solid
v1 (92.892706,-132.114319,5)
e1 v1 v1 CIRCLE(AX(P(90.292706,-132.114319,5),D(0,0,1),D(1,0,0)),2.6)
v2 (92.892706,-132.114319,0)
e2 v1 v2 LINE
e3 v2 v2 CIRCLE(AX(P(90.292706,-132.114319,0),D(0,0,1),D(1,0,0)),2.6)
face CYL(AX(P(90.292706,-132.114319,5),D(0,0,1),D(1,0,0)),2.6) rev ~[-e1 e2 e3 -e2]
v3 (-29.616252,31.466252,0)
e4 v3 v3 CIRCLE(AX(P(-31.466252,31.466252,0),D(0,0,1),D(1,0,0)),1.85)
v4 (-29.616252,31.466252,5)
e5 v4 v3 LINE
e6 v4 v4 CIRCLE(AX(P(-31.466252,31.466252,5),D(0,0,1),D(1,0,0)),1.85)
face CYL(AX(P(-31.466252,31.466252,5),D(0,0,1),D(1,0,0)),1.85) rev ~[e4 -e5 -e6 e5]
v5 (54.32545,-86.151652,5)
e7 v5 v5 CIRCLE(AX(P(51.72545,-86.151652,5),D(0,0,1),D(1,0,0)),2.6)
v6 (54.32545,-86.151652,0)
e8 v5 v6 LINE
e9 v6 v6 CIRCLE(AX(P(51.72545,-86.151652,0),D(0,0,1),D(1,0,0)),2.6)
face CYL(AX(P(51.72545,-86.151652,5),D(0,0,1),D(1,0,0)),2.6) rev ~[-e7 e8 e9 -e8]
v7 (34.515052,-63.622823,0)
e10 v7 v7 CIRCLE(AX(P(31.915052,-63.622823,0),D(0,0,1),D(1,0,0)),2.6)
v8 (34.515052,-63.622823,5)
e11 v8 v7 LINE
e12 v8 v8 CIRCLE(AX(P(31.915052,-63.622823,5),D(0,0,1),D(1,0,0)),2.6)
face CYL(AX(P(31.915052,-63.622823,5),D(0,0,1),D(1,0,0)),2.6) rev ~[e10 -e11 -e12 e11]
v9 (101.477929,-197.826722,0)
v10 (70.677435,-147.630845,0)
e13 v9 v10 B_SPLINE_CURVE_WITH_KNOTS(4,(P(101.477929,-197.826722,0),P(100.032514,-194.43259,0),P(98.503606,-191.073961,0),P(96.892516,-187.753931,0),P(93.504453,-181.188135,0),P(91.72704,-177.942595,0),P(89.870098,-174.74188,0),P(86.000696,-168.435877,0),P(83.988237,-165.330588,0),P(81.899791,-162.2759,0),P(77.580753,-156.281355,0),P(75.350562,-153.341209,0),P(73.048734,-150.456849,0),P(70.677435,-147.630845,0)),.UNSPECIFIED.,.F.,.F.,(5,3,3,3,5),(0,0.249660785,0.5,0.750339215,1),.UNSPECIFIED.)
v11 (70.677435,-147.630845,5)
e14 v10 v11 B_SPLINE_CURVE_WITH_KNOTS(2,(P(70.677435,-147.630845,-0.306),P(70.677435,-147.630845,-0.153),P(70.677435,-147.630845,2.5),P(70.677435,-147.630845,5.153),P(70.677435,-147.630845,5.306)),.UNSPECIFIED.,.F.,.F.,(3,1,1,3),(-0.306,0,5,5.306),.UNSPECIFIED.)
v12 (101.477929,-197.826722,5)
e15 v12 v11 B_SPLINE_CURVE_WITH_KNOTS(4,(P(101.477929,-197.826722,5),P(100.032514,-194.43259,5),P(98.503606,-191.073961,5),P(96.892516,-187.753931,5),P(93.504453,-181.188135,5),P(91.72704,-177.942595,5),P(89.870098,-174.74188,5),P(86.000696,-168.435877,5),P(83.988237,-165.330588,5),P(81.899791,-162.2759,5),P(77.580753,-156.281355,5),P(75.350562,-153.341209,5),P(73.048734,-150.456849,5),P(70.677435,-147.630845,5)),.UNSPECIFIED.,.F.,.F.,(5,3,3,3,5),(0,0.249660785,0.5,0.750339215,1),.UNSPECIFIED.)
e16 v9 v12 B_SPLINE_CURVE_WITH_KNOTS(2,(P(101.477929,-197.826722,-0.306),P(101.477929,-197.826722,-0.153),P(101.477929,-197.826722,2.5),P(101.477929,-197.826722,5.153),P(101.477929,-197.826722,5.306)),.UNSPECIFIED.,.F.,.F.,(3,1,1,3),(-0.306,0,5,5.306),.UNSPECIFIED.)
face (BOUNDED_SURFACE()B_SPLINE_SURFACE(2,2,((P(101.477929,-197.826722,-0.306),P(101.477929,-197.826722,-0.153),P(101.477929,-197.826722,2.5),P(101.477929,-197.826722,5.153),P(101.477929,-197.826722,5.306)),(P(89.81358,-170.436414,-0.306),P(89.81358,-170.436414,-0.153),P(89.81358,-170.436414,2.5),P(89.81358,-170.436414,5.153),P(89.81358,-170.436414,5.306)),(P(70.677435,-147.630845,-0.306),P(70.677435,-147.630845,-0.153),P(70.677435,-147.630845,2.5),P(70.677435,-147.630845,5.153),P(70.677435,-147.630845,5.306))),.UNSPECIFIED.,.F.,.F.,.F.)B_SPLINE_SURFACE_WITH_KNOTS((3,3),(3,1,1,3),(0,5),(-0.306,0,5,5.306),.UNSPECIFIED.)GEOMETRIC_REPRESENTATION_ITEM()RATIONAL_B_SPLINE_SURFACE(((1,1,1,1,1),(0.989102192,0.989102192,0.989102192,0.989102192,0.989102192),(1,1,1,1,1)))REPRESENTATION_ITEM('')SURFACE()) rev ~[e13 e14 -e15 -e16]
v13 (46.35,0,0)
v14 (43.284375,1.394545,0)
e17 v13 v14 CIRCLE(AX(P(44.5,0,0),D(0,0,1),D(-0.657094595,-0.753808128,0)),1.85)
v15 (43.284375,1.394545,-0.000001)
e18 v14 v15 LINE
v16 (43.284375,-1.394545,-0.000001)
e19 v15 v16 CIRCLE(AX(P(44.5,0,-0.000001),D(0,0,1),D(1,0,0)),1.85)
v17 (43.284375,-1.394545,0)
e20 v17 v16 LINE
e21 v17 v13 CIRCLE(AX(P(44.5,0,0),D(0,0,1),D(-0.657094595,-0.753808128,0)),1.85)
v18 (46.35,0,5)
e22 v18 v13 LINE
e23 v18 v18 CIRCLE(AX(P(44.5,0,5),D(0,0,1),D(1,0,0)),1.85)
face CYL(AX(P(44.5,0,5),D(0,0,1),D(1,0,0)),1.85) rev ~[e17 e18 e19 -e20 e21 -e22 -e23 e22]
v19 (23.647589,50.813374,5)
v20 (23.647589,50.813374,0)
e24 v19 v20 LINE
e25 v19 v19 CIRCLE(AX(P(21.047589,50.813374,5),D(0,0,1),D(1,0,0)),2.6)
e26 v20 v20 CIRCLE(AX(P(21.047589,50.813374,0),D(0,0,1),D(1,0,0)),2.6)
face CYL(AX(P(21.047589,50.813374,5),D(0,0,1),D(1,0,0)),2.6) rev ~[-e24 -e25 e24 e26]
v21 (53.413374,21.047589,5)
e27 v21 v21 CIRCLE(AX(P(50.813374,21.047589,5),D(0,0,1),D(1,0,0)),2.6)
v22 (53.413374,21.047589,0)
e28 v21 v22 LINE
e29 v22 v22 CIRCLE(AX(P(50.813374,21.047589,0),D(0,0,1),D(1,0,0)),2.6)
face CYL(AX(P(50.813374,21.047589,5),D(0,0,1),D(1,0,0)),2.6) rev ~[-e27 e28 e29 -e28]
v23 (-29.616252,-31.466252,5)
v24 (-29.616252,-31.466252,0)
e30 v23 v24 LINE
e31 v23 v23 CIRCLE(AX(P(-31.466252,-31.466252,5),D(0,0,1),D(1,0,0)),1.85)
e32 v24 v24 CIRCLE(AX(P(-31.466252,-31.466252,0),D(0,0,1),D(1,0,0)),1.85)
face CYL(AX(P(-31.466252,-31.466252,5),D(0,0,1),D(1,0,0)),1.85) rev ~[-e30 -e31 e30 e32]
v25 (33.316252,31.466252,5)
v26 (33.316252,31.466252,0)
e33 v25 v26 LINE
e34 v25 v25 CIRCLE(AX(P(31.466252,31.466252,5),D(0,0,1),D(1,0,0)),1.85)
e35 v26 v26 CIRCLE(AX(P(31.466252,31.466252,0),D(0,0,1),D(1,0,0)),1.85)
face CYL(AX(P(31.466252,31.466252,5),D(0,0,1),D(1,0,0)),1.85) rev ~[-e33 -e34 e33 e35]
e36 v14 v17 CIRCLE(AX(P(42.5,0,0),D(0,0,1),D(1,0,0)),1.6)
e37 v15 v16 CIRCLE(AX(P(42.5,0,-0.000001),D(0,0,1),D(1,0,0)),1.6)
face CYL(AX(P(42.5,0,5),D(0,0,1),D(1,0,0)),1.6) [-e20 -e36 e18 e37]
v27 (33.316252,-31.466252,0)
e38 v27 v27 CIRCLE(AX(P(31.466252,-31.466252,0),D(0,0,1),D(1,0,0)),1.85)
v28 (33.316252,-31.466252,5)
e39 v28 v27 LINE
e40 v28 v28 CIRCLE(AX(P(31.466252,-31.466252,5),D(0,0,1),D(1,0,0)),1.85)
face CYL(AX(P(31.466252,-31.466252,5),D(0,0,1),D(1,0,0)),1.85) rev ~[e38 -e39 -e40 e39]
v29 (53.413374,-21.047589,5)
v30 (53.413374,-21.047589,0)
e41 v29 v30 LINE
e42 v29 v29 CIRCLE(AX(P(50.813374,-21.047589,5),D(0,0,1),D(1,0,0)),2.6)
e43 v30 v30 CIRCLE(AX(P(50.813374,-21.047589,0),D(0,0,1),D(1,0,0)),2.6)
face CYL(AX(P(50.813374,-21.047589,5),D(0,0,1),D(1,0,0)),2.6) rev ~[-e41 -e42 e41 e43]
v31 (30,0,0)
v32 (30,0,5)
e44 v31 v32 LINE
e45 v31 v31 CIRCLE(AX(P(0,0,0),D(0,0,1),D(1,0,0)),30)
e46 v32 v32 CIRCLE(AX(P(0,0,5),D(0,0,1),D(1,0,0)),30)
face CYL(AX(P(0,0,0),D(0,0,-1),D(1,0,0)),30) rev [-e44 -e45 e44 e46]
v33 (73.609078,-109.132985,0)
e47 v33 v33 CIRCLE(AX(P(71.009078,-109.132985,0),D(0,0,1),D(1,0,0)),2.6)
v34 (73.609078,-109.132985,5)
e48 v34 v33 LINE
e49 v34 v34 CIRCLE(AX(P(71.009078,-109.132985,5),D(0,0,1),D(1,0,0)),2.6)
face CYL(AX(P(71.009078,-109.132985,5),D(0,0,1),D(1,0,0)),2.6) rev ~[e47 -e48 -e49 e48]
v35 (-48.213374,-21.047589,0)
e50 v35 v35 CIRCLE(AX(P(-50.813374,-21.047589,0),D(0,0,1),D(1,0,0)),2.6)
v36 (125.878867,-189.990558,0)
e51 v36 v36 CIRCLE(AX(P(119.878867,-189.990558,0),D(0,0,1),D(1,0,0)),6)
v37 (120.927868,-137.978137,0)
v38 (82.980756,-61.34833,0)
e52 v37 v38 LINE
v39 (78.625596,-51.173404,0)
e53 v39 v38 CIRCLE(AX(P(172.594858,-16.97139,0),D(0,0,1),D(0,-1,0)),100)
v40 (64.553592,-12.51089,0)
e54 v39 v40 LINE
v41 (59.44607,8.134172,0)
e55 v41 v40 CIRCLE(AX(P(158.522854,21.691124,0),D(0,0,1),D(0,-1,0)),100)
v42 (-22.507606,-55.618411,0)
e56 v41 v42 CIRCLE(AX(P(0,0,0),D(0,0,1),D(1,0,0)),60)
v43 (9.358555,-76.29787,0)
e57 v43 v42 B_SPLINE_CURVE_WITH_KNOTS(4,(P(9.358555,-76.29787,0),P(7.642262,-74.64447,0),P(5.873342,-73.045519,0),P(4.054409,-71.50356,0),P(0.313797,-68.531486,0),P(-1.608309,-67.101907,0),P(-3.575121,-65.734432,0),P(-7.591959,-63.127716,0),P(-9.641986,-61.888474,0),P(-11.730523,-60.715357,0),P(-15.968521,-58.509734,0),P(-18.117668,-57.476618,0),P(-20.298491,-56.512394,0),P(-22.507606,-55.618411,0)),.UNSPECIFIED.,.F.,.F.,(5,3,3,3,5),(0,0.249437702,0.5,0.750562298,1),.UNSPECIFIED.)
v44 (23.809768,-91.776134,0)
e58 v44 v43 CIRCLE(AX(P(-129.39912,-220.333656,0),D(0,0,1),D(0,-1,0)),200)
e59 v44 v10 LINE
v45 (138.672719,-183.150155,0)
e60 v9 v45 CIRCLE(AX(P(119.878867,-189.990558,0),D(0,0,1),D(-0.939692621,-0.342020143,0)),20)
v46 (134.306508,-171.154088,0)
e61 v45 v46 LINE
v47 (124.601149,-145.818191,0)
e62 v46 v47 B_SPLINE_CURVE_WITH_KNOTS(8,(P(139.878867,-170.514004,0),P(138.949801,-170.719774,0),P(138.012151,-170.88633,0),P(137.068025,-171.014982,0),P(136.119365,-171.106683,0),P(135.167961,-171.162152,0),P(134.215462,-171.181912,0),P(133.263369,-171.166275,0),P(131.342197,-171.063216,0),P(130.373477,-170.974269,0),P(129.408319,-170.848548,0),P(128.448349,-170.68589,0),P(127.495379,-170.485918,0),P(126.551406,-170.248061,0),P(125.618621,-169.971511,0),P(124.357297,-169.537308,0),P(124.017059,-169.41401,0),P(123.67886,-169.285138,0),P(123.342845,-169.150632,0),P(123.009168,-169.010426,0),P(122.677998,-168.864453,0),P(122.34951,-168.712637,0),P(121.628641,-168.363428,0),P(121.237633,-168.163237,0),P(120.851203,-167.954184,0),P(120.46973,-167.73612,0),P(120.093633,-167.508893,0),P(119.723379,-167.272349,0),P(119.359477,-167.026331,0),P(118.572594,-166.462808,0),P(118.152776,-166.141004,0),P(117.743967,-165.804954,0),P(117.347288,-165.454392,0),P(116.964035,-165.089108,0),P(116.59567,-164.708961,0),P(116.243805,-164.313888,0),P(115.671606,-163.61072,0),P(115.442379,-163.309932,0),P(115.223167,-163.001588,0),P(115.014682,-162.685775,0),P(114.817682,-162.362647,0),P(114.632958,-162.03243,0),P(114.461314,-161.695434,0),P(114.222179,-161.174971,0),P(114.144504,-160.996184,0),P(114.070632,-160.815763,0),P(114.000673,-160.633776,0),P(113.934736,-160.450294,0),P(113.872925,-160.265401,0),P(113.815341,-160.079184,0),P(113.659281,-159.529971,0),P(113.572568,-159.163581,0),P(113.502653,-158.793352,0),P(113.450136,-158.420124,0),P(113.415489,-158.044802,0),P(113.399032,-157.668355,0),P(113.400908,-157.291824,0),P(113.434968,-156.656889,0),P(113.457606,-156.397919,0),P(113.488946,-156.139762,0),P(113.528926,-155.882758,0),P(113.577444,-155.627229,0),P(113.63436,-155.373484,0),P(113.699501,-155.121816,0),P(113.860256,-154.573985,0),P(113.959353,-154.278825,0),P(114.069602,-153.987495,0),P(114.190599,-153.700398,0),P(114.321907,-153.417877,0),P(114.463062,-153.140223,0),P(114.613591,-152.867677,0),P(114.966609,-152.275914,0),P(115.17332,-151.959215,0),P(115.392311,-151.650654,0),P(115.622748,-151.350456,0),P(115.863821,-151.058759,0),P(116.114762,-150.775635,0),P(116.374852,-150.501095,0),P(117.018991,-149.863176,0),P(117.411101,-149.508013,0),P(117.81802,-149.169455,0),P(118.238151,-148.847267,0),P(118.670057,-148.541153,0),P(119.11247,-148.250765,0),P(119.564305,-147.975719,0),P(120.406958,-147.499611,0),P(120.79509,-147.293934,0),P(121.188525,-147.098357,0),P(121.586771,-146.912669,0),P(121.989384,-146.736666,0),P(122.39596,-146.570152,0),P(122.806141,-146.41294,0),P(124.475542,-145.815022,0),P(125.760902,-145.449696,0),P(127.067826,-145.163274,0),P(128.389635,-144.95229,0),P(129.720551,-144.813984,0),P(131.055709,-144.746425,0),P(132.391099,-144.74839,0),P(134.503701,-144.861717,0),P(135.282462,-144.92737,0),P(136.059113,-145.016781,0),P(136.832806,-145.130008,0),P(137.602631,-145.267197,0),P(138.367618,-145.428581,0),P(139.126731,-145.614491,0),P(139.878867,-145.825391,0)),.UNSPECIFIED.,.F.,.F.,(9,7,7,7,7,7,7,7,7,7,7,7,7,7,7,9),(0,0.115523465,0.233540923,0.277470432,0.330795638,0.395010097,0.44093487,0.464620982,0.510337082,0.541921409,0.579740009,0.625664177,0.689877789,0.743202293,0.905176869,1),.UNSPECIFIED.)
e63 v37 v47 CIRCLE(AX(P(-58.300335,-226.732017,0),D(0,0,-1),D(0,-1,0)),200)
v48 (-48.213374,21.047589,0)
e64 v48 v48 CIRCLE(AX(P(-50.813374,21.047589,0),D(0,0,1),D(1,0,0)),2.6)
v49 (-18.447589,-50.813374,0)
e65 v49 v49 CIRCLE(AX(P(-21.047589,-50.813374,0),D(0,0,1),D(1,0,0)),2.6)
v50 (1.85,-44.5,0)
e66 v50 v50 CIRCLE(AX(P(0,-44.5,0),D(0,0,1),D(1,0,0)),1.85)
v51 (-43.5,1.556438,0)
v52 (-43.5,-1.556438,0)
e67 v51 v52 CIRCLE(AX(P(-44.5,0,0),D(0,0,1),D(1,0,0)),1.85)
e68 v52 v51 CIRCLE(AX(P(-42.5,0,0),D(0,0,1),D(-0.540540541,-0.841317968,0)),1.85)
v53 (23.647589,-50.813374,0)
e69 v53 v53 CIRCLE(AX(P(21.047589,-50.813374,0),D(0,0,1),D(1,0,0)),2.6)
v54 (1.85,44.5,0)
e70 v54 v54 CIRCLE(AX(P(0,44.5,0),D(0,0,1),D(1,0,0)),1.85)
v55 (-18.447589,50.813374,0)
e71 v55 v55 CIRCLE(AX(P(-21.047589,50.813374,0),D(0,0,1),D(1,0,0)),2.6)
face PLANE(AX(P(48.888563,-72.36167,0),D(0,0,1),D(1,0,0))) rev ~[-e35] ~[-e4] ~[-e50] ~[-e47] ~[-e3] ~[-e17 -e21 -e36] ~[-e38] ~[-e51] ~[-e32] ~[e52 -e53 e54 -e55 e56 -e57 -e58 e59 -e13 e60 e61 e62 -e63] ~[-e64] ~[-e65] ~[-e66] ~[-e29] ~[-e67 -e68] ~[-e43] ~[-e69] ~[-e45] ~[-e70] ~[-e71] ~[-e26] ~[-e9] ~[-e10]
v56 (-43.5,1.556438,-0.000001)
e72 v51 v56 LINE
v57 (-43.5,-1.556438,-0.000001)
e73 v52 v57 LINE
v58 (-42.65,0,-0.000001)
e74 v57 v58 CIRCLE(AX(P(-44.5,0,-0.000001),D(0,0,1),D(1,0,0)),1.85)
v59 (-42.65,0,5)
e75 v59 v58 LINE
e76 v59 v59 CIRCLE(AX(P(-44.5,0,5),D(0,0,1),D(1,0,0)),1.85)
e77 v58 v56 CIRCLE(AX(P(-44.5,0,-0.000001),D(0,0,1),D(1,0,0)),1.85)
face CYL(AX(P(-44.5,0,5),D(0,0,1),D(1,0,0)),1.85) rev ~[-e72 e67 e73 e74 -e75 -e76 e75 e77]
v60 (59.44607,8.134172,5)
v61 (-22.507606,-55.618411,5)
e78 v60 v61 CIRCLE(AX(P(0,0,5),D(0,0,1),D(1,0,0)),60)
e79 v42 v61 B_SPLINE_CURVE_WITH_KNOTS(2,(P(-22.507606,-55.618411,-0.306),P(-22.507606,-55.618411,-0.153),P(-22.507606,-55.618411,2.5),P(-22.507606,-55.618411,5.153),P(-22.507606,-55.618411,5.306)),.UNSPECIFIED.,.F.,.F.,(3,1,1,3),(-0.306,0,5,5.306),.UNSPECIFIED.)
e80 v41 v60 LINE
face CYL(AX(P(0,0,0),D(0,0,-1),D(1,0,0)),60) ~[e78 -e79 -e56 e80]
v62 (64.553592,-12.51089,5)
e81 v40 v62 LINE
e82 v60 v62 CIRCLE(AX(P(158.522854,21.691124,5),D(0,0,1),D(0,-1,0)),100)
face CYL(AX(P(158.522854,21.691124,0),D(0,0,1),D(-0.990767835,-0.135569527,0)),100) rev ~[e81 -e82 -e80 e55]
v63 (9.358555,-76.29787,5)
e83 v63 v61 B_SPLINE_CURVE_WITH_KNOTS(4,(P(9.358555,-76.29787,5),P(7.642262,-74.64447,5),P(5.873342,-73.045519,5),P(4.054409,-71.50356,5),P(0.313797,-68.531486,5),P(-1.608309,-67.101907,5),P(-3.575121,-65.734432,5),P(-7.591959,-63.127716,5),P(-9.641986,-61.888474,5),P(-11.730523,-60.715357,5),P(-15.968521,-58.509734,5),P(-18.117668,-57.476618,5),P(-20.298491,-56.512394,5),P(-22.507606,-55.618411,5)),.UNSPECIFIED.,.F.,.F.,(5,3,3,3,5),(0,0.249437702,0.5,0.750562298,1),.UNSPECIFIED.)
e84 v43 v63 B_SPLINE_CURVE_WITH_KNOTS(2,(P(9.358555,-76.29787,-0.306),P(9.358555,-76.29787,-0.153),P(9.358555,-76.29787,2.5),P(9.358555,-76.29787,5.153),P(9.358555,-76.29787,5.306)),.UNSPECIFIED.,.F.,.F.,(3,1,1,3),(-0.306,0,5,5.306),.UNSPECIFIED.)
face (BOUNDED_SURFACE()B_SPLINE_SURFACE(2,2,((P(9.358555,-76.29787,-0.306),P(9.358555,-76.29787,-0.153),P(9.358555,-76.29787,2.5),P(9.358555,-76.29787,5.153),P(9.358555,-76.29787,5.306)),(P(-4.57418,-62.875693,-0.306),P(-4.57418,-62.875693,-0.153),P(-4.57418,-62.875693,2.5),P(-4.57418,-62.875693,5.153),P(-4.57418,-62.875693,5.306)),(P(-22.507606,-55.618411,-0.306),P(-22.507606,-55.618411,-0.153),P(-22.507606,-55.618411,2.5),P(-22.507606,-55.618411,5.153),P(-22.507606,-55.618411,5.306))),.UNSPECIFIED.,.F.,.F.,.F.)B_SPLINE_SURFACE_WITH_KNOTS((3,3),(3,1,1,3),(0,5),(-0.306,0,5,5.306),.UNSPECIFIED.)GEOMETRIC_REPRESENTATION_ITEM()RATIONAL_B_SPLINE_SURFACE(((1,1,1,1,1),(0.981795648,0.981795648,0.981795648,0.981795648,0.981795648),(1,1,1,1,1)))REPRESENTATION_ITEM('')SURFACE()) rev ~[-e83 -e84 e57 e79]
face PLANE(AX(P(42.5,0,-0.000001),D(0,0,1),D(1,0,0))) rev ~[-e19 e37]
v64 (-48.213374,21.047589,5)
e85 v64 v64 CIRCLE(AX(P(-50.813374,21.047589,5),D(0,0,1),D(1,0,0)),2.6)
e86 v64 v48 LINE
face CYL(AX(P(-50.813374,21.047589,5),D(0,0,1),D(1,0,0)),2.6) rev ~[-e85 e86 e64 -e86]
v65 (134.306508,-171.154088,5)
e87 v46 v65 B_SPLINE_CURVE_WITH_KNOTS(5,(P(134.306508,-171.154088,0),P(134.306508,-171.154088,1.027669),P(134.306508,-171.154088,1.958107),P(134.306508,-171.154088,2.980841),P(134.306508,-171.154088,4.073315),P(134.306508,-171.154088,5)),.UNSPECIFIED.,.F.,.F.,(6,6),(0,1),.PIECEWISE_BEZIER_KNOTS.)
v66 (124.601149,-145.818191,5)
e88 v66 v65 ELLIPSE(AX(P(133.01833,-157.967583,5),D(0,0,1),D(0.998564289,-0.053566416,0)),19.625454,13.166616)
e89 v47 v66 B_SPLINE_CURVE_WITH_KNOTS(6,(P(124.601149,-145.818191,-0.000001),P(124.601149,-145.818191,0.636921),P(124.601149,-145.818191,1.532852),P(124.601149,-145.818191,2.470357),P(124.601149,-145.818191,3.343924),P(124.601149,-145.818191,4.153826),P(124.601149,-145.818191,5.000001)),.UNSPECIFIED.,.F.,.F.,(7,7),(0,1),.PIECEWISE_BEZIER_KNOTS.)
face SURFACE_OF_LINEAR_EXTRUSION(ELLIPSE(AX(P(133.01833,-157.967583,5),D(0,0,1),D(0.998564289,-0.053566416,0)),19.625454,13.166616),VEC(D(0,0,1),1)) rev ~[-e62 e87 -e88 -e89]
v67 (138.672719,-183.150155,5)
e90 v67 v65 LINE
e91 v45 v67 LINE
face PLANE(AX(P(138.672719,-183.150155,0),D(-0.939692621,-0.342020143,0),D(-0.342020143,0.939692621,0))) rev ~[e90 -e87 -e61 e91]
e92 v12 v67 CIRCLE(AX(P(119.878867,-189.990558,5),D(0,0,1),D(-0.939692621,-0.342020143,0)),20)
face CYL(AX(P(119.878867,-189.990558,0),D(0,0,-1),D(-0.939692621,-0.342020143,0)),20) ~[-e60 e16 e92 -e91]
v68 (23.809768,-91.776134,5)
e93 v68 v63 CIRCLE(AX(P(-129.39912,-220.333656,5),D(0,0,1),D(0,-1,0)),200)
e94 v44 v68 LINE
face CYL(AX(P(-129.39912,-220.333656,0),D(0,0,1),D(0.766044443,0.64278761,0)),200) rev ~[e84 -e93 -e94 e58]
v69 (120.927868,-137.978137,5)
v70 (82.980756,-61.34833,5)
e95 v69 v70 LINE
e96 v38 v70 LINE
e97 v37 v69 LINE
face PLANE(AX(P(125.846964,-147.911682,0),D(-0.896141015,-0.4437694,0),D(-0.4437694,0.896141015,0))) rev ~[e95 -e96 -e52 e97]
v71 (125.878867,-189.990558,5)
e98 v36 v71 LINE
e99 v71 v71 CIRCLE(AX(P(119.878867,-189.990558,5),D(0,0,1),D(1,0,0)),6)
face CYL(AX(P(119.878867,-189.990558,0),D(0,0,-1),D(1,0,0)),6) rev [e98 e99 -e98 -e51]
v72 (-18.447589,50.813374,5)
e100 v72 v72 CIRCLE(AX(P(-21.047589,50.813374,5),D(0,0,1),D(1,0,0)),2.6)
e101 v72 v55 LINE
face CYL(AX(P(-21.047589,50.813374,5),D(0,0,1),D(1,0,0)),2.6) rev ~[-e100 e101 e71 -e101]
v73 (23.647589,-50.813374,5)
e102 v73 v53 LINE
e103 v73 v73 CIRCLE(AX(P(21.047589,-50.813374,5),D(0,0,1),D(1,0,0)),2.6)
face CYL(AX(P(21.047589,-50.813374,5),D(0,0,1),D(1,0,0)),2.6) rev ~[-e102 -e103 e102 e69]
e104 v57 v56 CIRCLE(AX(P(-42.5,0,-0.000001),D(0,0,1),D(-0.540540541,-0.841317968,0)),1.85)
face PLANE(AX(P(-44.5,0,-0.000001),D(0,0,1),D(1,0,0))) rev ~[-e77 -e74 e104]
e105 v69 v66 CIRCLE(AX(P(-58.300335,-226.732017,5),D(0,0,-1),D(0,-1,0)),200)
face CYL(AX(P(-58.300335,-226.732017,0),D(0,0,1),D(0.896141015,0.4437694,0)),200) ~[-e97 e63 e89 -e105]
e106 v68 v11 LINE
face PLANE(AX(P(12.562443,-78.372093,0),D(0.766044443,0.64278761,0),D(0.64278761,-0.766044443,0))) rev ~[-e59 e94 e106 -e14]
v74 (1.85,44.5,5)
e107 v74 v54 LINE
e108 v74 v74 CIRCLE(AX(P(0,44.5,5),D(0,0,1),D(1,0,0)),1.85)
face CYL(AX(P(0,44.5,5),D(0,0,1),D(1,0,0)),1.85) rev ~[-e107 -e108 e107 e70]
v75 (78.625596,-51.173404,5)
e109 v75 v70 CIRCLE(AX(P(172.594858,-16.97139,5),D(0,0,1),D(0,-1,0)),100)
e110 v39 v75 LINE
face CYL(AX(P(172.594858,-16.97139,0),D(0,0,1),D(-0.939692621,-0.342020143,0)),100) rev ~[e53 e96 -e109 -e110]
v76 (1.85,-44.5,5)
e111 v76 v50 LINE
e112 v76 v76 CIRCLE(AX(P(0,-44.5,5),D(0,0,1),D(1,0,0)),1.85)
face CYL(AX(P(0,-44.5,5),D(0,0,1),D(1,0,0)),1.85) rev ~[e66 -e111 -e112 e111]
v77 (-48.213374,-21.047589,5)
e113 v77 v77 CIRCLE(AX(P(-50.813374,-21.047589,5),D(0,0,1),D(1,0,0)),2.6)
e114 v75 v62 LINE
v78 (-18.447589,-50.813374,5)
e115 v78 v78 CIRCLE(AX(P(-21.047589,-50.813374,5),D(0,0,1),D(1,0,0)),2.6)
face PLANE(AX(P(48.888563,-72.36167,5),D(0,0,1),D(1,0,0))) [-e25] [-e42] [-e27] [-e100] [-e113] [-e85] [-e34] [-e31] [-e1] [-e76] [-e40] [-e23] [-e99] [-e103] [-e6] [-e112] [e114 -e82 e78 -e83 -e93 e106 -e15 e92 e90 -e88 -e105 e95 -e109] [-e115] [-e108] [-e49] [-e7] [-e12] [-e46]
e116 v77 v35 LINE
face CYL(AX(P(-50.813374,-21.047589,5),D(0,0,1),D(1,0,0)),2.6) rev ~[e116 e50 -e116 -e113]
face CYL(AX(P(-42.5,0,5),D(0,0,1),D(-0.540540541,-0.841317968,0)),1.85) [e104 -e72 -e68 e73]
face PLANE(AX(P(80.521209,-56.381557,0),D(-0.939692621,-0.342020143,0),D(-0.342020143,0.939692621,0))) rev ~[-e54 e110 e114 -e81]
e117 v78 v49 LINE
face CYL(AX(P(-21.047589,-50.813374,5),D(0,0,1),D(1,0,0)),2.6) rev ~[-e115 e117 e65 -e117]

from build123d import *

# Parameters (mm, degrees)
SKETCH_1_R          = 30
SKETCH_1_R_2        = 6
EXTRUDE_1_DEPTH     = 5
SKETCH_2_R          = 1.85
SKETCH_2_R_2        = 1.6
CUT_EXTRUDE_1_DEPTH = 10
SKETCH_3_R          = 2.6
CUT_EXTRUDE_2_DEPTH = 10
FILLET_1_R          = 200
FILLET_2_R          = 200
FILLET_3_R          = 200
FILLET_5_R          = 100
SKETCH_4_R          = 2.6
CUT_EXTRUDE_3_DEPTH = 10
SKETCH_5_RX         = 19.625454407
SKETCH_5_RY         = 13.166615993
CUT_EXTRUDE_4_DEPTH = 10
SKETCH_6_R          = 1.85
SKETCH_6_R_2        = 1.6
EXTRUDE_2_DEPTH     = 5.000001
SKETCH_7_R          = 1.85
CUT_EXTRUDE_5_DEPTH = 10


with BuildPart() as part:
    # 草图1 → 凸台-拉伸1 (new body)
    with BuildSketch(Plane.XY):
        with BuildLine():
            Line((-10.41889066, -59.088465181), (12.562442634, -78.372093471))
            Line((12.562442634, -78.372093471), (92.753346633, -173.939891406))
            Line((92.753346633, -173.939891406), (101.085014518, -196.830960785))
            ThreePointArc((101.085014518, -196.830960785), (126.7192698, -208.784410334), (138.672719349, -183.150155052))
            Line((138.672719349, -183.150155052), (125.846963974, -147.911681773))
            Line((125.846963974, -147.911681773), (80.5212086, -56.381557247))
            Line((80.5212086, -56.381557247), (60, 0))
            ThreePointArc((60, 0), (-38.567256581, 45.962666587), (-10.41889066, -59.088465181))
        make_face()
        Circle(SKETCH_1_R, mode=Mode.SUBTRACT)
        with Locations((119.878866933, -189.990557919)):
            Circle(SKETCH_1_R_2, mode=Mode.SUBTRACT)
    extrude(amount=EXTRUDE_1_DEPTH)

    # 草图2 → 切除-拉伸1 (cut)
    with BuildSketch(Plane.XY.offset(5)):
        with Locations((0, 44.5)):
            Circle(SKETCH_2_R)
        with Locations((31.466251763, 31.466251763)):
            Circle(SKETCH_2_R)
        with Locations((31.466251763, -31.466251763)):
            Circle(SKETCH_2_R)
        with Locations((0, -44.5)):
            Circle(SKETCH_2_R)
        with Locations((-31.466251763, -31.466251763)):
            Circle(SKETCH_2_R)
        with Locations((-31.466251763, 31.466251763)):
            Circle(SKETCH_2_R)
        with Locations((42.5, 0)):
            Circle(SKETCH_2_R_2)
        with Locations((-42.5, 0)):
            Circle(SKETCH_2_R)
    extrude(amount=-CUT_EXTRUDE_1_DEPTH, mode=Mode.SUBTRACT)

    # 草图3 → 切除-拉伸2 (cut)
    with BuildSketch(Plane.XY.offset(5)):
        with Locations((21.04758878, 50.813374288)):
            Circle(SKETCH_3_R)
        with Locations((50.813374288, 21.04758878)):
            Circle(SKETCH_3_R)
        with Locations((50.813374288, -21.04758878)):
            Circle(SKETCH_3_R)
        with Locations((21.04758878, -50.813374288)):
            Circle(SKETCH_3_R)
        with Locations((-21.04758878, -50.813374288)):
            Circle(SKETCH_3_R)
        with Locations((-50.813374288, -21.04758878)):
            Circle(SKETCH_3_R)
        with Locations((-50.813374288, 21.04758878)):
            Circle(SKETCH_3_R)
        with Locations((-21.04758878, 50.813374288)):
            Circle(SKETCH_3_R)
    extrude(amount=-CUT_EXTRUDE_2_DEPTH, mode=Mode.SUBTRACT)

    # 圆角1
    fillet_1_edges = [part.edges().sort_by_distance(p)[0] for p in [
        (125.846963974, -147.911681773, 2.5),
    ]]
    fillet(fillet_1_edges, radius=FILLET_1_R)

    # 圆角2
    fillet_2_edges = [part.edges().sort_by_distance(p)[0] for p in [
        (92.753346633, -173.939891406, 2.5),
    ]]
    fillet(fillet_2_edges, radius=FILLET_2_R)

    # 圆角3
    fillet_3_edges = [part.edges().sort_by_distance(p)[0] for p in [
        (12.562442634, -78.372093471, 2.5),
    ]]
    fillet(fillet_3_edges, radius=FILLET_3_R)

    # 圆角5
    fillet_5_edges = [part.edges().sort_by_distance(p)[0] for p in [
        (80.5212086, -56.381557247, 2.5),
        (60, 0, 2.5),
        (-10.41889066, -59.088465181, 2.5),
    ]]
    fillet(fillet_5_edges, radius=FILLET_5_R)

    # 草图4 → 切除-拉伸3 (cut)
    with BuildSketch(Plane.XY.offset(5)):
        with Locations((31.915052067, -63.622822556)):
            Circle(SKETCH_4_R)
        with Locations((51.725449506, -86.151651937)):
            Circle(SKETCH_4_R)
        with Locations((71.009077797, -109.132985231)):
            Circle(SKETCH_4_R)
        with Locations((90.292706088, -132.114318524)):
            Circle(SKETCH_4_R)
    extrude(amount=-CUT_EXTRUDE_3_DEPTH, mode=Mode.SUBTRACT)

    # 草图5 → 切除-拉伸4 (cut)
    with BuildSketch(Plane.XY.offset(5)):
        with Locations(Location((133.018329516, -157.967583367), (0, 0, -3.070599188))):
            Ellipse(SKETCH_5_RX, SKETCH_5_RY)
    extrude(amount=-CUT_EXTRUDE_4_DEPTH, mode=Mode.SUBTRACT)

    # 草图6 → 凸台-拉伸2 (add, through all)
    with BuildSketch(Plane.XY.offset(5)):
        with Locations((-44.5, 0)):
            Circle(SKETCH_6_R)
        with Locations((-42.5, 0)):
            Circle(SKETCH_6_R)
        with Locations((-44.5, 0)):
            Circle(SKETCH_6_R)
        with Locations((-42.5, 0)):
            Circle(SKETCH_6_R)
        with Locations((42.5, 0)):
            Circle(SKETCH_6_R_2)
        with Locations((44.5, 0)):
            Circle(SKETCH_6_R)
        with Locations((44.5, 0)):
            Circle(SKETCH_6_R)
        with Locations((42.5, 0)):
            Circle(SKETCH_6_R_2)
    extrude(amount=-EXTRUDE_2_DEPTH)

    # 草图7 → 切除-拉伸5 (cut)
    with BuildSketch(Plane.XY.offset(5)):
        with Locations((-44.5, 0)):
            Circle(SKETCH_7_R)
        with Locations((44.5, 0)):
            Circle(SKETCH_7_R)
    extrude(amount=-CUT_EXTRUDE_5_DEPTH, mode=Mode.SUBTRACT)


solid = part.part
